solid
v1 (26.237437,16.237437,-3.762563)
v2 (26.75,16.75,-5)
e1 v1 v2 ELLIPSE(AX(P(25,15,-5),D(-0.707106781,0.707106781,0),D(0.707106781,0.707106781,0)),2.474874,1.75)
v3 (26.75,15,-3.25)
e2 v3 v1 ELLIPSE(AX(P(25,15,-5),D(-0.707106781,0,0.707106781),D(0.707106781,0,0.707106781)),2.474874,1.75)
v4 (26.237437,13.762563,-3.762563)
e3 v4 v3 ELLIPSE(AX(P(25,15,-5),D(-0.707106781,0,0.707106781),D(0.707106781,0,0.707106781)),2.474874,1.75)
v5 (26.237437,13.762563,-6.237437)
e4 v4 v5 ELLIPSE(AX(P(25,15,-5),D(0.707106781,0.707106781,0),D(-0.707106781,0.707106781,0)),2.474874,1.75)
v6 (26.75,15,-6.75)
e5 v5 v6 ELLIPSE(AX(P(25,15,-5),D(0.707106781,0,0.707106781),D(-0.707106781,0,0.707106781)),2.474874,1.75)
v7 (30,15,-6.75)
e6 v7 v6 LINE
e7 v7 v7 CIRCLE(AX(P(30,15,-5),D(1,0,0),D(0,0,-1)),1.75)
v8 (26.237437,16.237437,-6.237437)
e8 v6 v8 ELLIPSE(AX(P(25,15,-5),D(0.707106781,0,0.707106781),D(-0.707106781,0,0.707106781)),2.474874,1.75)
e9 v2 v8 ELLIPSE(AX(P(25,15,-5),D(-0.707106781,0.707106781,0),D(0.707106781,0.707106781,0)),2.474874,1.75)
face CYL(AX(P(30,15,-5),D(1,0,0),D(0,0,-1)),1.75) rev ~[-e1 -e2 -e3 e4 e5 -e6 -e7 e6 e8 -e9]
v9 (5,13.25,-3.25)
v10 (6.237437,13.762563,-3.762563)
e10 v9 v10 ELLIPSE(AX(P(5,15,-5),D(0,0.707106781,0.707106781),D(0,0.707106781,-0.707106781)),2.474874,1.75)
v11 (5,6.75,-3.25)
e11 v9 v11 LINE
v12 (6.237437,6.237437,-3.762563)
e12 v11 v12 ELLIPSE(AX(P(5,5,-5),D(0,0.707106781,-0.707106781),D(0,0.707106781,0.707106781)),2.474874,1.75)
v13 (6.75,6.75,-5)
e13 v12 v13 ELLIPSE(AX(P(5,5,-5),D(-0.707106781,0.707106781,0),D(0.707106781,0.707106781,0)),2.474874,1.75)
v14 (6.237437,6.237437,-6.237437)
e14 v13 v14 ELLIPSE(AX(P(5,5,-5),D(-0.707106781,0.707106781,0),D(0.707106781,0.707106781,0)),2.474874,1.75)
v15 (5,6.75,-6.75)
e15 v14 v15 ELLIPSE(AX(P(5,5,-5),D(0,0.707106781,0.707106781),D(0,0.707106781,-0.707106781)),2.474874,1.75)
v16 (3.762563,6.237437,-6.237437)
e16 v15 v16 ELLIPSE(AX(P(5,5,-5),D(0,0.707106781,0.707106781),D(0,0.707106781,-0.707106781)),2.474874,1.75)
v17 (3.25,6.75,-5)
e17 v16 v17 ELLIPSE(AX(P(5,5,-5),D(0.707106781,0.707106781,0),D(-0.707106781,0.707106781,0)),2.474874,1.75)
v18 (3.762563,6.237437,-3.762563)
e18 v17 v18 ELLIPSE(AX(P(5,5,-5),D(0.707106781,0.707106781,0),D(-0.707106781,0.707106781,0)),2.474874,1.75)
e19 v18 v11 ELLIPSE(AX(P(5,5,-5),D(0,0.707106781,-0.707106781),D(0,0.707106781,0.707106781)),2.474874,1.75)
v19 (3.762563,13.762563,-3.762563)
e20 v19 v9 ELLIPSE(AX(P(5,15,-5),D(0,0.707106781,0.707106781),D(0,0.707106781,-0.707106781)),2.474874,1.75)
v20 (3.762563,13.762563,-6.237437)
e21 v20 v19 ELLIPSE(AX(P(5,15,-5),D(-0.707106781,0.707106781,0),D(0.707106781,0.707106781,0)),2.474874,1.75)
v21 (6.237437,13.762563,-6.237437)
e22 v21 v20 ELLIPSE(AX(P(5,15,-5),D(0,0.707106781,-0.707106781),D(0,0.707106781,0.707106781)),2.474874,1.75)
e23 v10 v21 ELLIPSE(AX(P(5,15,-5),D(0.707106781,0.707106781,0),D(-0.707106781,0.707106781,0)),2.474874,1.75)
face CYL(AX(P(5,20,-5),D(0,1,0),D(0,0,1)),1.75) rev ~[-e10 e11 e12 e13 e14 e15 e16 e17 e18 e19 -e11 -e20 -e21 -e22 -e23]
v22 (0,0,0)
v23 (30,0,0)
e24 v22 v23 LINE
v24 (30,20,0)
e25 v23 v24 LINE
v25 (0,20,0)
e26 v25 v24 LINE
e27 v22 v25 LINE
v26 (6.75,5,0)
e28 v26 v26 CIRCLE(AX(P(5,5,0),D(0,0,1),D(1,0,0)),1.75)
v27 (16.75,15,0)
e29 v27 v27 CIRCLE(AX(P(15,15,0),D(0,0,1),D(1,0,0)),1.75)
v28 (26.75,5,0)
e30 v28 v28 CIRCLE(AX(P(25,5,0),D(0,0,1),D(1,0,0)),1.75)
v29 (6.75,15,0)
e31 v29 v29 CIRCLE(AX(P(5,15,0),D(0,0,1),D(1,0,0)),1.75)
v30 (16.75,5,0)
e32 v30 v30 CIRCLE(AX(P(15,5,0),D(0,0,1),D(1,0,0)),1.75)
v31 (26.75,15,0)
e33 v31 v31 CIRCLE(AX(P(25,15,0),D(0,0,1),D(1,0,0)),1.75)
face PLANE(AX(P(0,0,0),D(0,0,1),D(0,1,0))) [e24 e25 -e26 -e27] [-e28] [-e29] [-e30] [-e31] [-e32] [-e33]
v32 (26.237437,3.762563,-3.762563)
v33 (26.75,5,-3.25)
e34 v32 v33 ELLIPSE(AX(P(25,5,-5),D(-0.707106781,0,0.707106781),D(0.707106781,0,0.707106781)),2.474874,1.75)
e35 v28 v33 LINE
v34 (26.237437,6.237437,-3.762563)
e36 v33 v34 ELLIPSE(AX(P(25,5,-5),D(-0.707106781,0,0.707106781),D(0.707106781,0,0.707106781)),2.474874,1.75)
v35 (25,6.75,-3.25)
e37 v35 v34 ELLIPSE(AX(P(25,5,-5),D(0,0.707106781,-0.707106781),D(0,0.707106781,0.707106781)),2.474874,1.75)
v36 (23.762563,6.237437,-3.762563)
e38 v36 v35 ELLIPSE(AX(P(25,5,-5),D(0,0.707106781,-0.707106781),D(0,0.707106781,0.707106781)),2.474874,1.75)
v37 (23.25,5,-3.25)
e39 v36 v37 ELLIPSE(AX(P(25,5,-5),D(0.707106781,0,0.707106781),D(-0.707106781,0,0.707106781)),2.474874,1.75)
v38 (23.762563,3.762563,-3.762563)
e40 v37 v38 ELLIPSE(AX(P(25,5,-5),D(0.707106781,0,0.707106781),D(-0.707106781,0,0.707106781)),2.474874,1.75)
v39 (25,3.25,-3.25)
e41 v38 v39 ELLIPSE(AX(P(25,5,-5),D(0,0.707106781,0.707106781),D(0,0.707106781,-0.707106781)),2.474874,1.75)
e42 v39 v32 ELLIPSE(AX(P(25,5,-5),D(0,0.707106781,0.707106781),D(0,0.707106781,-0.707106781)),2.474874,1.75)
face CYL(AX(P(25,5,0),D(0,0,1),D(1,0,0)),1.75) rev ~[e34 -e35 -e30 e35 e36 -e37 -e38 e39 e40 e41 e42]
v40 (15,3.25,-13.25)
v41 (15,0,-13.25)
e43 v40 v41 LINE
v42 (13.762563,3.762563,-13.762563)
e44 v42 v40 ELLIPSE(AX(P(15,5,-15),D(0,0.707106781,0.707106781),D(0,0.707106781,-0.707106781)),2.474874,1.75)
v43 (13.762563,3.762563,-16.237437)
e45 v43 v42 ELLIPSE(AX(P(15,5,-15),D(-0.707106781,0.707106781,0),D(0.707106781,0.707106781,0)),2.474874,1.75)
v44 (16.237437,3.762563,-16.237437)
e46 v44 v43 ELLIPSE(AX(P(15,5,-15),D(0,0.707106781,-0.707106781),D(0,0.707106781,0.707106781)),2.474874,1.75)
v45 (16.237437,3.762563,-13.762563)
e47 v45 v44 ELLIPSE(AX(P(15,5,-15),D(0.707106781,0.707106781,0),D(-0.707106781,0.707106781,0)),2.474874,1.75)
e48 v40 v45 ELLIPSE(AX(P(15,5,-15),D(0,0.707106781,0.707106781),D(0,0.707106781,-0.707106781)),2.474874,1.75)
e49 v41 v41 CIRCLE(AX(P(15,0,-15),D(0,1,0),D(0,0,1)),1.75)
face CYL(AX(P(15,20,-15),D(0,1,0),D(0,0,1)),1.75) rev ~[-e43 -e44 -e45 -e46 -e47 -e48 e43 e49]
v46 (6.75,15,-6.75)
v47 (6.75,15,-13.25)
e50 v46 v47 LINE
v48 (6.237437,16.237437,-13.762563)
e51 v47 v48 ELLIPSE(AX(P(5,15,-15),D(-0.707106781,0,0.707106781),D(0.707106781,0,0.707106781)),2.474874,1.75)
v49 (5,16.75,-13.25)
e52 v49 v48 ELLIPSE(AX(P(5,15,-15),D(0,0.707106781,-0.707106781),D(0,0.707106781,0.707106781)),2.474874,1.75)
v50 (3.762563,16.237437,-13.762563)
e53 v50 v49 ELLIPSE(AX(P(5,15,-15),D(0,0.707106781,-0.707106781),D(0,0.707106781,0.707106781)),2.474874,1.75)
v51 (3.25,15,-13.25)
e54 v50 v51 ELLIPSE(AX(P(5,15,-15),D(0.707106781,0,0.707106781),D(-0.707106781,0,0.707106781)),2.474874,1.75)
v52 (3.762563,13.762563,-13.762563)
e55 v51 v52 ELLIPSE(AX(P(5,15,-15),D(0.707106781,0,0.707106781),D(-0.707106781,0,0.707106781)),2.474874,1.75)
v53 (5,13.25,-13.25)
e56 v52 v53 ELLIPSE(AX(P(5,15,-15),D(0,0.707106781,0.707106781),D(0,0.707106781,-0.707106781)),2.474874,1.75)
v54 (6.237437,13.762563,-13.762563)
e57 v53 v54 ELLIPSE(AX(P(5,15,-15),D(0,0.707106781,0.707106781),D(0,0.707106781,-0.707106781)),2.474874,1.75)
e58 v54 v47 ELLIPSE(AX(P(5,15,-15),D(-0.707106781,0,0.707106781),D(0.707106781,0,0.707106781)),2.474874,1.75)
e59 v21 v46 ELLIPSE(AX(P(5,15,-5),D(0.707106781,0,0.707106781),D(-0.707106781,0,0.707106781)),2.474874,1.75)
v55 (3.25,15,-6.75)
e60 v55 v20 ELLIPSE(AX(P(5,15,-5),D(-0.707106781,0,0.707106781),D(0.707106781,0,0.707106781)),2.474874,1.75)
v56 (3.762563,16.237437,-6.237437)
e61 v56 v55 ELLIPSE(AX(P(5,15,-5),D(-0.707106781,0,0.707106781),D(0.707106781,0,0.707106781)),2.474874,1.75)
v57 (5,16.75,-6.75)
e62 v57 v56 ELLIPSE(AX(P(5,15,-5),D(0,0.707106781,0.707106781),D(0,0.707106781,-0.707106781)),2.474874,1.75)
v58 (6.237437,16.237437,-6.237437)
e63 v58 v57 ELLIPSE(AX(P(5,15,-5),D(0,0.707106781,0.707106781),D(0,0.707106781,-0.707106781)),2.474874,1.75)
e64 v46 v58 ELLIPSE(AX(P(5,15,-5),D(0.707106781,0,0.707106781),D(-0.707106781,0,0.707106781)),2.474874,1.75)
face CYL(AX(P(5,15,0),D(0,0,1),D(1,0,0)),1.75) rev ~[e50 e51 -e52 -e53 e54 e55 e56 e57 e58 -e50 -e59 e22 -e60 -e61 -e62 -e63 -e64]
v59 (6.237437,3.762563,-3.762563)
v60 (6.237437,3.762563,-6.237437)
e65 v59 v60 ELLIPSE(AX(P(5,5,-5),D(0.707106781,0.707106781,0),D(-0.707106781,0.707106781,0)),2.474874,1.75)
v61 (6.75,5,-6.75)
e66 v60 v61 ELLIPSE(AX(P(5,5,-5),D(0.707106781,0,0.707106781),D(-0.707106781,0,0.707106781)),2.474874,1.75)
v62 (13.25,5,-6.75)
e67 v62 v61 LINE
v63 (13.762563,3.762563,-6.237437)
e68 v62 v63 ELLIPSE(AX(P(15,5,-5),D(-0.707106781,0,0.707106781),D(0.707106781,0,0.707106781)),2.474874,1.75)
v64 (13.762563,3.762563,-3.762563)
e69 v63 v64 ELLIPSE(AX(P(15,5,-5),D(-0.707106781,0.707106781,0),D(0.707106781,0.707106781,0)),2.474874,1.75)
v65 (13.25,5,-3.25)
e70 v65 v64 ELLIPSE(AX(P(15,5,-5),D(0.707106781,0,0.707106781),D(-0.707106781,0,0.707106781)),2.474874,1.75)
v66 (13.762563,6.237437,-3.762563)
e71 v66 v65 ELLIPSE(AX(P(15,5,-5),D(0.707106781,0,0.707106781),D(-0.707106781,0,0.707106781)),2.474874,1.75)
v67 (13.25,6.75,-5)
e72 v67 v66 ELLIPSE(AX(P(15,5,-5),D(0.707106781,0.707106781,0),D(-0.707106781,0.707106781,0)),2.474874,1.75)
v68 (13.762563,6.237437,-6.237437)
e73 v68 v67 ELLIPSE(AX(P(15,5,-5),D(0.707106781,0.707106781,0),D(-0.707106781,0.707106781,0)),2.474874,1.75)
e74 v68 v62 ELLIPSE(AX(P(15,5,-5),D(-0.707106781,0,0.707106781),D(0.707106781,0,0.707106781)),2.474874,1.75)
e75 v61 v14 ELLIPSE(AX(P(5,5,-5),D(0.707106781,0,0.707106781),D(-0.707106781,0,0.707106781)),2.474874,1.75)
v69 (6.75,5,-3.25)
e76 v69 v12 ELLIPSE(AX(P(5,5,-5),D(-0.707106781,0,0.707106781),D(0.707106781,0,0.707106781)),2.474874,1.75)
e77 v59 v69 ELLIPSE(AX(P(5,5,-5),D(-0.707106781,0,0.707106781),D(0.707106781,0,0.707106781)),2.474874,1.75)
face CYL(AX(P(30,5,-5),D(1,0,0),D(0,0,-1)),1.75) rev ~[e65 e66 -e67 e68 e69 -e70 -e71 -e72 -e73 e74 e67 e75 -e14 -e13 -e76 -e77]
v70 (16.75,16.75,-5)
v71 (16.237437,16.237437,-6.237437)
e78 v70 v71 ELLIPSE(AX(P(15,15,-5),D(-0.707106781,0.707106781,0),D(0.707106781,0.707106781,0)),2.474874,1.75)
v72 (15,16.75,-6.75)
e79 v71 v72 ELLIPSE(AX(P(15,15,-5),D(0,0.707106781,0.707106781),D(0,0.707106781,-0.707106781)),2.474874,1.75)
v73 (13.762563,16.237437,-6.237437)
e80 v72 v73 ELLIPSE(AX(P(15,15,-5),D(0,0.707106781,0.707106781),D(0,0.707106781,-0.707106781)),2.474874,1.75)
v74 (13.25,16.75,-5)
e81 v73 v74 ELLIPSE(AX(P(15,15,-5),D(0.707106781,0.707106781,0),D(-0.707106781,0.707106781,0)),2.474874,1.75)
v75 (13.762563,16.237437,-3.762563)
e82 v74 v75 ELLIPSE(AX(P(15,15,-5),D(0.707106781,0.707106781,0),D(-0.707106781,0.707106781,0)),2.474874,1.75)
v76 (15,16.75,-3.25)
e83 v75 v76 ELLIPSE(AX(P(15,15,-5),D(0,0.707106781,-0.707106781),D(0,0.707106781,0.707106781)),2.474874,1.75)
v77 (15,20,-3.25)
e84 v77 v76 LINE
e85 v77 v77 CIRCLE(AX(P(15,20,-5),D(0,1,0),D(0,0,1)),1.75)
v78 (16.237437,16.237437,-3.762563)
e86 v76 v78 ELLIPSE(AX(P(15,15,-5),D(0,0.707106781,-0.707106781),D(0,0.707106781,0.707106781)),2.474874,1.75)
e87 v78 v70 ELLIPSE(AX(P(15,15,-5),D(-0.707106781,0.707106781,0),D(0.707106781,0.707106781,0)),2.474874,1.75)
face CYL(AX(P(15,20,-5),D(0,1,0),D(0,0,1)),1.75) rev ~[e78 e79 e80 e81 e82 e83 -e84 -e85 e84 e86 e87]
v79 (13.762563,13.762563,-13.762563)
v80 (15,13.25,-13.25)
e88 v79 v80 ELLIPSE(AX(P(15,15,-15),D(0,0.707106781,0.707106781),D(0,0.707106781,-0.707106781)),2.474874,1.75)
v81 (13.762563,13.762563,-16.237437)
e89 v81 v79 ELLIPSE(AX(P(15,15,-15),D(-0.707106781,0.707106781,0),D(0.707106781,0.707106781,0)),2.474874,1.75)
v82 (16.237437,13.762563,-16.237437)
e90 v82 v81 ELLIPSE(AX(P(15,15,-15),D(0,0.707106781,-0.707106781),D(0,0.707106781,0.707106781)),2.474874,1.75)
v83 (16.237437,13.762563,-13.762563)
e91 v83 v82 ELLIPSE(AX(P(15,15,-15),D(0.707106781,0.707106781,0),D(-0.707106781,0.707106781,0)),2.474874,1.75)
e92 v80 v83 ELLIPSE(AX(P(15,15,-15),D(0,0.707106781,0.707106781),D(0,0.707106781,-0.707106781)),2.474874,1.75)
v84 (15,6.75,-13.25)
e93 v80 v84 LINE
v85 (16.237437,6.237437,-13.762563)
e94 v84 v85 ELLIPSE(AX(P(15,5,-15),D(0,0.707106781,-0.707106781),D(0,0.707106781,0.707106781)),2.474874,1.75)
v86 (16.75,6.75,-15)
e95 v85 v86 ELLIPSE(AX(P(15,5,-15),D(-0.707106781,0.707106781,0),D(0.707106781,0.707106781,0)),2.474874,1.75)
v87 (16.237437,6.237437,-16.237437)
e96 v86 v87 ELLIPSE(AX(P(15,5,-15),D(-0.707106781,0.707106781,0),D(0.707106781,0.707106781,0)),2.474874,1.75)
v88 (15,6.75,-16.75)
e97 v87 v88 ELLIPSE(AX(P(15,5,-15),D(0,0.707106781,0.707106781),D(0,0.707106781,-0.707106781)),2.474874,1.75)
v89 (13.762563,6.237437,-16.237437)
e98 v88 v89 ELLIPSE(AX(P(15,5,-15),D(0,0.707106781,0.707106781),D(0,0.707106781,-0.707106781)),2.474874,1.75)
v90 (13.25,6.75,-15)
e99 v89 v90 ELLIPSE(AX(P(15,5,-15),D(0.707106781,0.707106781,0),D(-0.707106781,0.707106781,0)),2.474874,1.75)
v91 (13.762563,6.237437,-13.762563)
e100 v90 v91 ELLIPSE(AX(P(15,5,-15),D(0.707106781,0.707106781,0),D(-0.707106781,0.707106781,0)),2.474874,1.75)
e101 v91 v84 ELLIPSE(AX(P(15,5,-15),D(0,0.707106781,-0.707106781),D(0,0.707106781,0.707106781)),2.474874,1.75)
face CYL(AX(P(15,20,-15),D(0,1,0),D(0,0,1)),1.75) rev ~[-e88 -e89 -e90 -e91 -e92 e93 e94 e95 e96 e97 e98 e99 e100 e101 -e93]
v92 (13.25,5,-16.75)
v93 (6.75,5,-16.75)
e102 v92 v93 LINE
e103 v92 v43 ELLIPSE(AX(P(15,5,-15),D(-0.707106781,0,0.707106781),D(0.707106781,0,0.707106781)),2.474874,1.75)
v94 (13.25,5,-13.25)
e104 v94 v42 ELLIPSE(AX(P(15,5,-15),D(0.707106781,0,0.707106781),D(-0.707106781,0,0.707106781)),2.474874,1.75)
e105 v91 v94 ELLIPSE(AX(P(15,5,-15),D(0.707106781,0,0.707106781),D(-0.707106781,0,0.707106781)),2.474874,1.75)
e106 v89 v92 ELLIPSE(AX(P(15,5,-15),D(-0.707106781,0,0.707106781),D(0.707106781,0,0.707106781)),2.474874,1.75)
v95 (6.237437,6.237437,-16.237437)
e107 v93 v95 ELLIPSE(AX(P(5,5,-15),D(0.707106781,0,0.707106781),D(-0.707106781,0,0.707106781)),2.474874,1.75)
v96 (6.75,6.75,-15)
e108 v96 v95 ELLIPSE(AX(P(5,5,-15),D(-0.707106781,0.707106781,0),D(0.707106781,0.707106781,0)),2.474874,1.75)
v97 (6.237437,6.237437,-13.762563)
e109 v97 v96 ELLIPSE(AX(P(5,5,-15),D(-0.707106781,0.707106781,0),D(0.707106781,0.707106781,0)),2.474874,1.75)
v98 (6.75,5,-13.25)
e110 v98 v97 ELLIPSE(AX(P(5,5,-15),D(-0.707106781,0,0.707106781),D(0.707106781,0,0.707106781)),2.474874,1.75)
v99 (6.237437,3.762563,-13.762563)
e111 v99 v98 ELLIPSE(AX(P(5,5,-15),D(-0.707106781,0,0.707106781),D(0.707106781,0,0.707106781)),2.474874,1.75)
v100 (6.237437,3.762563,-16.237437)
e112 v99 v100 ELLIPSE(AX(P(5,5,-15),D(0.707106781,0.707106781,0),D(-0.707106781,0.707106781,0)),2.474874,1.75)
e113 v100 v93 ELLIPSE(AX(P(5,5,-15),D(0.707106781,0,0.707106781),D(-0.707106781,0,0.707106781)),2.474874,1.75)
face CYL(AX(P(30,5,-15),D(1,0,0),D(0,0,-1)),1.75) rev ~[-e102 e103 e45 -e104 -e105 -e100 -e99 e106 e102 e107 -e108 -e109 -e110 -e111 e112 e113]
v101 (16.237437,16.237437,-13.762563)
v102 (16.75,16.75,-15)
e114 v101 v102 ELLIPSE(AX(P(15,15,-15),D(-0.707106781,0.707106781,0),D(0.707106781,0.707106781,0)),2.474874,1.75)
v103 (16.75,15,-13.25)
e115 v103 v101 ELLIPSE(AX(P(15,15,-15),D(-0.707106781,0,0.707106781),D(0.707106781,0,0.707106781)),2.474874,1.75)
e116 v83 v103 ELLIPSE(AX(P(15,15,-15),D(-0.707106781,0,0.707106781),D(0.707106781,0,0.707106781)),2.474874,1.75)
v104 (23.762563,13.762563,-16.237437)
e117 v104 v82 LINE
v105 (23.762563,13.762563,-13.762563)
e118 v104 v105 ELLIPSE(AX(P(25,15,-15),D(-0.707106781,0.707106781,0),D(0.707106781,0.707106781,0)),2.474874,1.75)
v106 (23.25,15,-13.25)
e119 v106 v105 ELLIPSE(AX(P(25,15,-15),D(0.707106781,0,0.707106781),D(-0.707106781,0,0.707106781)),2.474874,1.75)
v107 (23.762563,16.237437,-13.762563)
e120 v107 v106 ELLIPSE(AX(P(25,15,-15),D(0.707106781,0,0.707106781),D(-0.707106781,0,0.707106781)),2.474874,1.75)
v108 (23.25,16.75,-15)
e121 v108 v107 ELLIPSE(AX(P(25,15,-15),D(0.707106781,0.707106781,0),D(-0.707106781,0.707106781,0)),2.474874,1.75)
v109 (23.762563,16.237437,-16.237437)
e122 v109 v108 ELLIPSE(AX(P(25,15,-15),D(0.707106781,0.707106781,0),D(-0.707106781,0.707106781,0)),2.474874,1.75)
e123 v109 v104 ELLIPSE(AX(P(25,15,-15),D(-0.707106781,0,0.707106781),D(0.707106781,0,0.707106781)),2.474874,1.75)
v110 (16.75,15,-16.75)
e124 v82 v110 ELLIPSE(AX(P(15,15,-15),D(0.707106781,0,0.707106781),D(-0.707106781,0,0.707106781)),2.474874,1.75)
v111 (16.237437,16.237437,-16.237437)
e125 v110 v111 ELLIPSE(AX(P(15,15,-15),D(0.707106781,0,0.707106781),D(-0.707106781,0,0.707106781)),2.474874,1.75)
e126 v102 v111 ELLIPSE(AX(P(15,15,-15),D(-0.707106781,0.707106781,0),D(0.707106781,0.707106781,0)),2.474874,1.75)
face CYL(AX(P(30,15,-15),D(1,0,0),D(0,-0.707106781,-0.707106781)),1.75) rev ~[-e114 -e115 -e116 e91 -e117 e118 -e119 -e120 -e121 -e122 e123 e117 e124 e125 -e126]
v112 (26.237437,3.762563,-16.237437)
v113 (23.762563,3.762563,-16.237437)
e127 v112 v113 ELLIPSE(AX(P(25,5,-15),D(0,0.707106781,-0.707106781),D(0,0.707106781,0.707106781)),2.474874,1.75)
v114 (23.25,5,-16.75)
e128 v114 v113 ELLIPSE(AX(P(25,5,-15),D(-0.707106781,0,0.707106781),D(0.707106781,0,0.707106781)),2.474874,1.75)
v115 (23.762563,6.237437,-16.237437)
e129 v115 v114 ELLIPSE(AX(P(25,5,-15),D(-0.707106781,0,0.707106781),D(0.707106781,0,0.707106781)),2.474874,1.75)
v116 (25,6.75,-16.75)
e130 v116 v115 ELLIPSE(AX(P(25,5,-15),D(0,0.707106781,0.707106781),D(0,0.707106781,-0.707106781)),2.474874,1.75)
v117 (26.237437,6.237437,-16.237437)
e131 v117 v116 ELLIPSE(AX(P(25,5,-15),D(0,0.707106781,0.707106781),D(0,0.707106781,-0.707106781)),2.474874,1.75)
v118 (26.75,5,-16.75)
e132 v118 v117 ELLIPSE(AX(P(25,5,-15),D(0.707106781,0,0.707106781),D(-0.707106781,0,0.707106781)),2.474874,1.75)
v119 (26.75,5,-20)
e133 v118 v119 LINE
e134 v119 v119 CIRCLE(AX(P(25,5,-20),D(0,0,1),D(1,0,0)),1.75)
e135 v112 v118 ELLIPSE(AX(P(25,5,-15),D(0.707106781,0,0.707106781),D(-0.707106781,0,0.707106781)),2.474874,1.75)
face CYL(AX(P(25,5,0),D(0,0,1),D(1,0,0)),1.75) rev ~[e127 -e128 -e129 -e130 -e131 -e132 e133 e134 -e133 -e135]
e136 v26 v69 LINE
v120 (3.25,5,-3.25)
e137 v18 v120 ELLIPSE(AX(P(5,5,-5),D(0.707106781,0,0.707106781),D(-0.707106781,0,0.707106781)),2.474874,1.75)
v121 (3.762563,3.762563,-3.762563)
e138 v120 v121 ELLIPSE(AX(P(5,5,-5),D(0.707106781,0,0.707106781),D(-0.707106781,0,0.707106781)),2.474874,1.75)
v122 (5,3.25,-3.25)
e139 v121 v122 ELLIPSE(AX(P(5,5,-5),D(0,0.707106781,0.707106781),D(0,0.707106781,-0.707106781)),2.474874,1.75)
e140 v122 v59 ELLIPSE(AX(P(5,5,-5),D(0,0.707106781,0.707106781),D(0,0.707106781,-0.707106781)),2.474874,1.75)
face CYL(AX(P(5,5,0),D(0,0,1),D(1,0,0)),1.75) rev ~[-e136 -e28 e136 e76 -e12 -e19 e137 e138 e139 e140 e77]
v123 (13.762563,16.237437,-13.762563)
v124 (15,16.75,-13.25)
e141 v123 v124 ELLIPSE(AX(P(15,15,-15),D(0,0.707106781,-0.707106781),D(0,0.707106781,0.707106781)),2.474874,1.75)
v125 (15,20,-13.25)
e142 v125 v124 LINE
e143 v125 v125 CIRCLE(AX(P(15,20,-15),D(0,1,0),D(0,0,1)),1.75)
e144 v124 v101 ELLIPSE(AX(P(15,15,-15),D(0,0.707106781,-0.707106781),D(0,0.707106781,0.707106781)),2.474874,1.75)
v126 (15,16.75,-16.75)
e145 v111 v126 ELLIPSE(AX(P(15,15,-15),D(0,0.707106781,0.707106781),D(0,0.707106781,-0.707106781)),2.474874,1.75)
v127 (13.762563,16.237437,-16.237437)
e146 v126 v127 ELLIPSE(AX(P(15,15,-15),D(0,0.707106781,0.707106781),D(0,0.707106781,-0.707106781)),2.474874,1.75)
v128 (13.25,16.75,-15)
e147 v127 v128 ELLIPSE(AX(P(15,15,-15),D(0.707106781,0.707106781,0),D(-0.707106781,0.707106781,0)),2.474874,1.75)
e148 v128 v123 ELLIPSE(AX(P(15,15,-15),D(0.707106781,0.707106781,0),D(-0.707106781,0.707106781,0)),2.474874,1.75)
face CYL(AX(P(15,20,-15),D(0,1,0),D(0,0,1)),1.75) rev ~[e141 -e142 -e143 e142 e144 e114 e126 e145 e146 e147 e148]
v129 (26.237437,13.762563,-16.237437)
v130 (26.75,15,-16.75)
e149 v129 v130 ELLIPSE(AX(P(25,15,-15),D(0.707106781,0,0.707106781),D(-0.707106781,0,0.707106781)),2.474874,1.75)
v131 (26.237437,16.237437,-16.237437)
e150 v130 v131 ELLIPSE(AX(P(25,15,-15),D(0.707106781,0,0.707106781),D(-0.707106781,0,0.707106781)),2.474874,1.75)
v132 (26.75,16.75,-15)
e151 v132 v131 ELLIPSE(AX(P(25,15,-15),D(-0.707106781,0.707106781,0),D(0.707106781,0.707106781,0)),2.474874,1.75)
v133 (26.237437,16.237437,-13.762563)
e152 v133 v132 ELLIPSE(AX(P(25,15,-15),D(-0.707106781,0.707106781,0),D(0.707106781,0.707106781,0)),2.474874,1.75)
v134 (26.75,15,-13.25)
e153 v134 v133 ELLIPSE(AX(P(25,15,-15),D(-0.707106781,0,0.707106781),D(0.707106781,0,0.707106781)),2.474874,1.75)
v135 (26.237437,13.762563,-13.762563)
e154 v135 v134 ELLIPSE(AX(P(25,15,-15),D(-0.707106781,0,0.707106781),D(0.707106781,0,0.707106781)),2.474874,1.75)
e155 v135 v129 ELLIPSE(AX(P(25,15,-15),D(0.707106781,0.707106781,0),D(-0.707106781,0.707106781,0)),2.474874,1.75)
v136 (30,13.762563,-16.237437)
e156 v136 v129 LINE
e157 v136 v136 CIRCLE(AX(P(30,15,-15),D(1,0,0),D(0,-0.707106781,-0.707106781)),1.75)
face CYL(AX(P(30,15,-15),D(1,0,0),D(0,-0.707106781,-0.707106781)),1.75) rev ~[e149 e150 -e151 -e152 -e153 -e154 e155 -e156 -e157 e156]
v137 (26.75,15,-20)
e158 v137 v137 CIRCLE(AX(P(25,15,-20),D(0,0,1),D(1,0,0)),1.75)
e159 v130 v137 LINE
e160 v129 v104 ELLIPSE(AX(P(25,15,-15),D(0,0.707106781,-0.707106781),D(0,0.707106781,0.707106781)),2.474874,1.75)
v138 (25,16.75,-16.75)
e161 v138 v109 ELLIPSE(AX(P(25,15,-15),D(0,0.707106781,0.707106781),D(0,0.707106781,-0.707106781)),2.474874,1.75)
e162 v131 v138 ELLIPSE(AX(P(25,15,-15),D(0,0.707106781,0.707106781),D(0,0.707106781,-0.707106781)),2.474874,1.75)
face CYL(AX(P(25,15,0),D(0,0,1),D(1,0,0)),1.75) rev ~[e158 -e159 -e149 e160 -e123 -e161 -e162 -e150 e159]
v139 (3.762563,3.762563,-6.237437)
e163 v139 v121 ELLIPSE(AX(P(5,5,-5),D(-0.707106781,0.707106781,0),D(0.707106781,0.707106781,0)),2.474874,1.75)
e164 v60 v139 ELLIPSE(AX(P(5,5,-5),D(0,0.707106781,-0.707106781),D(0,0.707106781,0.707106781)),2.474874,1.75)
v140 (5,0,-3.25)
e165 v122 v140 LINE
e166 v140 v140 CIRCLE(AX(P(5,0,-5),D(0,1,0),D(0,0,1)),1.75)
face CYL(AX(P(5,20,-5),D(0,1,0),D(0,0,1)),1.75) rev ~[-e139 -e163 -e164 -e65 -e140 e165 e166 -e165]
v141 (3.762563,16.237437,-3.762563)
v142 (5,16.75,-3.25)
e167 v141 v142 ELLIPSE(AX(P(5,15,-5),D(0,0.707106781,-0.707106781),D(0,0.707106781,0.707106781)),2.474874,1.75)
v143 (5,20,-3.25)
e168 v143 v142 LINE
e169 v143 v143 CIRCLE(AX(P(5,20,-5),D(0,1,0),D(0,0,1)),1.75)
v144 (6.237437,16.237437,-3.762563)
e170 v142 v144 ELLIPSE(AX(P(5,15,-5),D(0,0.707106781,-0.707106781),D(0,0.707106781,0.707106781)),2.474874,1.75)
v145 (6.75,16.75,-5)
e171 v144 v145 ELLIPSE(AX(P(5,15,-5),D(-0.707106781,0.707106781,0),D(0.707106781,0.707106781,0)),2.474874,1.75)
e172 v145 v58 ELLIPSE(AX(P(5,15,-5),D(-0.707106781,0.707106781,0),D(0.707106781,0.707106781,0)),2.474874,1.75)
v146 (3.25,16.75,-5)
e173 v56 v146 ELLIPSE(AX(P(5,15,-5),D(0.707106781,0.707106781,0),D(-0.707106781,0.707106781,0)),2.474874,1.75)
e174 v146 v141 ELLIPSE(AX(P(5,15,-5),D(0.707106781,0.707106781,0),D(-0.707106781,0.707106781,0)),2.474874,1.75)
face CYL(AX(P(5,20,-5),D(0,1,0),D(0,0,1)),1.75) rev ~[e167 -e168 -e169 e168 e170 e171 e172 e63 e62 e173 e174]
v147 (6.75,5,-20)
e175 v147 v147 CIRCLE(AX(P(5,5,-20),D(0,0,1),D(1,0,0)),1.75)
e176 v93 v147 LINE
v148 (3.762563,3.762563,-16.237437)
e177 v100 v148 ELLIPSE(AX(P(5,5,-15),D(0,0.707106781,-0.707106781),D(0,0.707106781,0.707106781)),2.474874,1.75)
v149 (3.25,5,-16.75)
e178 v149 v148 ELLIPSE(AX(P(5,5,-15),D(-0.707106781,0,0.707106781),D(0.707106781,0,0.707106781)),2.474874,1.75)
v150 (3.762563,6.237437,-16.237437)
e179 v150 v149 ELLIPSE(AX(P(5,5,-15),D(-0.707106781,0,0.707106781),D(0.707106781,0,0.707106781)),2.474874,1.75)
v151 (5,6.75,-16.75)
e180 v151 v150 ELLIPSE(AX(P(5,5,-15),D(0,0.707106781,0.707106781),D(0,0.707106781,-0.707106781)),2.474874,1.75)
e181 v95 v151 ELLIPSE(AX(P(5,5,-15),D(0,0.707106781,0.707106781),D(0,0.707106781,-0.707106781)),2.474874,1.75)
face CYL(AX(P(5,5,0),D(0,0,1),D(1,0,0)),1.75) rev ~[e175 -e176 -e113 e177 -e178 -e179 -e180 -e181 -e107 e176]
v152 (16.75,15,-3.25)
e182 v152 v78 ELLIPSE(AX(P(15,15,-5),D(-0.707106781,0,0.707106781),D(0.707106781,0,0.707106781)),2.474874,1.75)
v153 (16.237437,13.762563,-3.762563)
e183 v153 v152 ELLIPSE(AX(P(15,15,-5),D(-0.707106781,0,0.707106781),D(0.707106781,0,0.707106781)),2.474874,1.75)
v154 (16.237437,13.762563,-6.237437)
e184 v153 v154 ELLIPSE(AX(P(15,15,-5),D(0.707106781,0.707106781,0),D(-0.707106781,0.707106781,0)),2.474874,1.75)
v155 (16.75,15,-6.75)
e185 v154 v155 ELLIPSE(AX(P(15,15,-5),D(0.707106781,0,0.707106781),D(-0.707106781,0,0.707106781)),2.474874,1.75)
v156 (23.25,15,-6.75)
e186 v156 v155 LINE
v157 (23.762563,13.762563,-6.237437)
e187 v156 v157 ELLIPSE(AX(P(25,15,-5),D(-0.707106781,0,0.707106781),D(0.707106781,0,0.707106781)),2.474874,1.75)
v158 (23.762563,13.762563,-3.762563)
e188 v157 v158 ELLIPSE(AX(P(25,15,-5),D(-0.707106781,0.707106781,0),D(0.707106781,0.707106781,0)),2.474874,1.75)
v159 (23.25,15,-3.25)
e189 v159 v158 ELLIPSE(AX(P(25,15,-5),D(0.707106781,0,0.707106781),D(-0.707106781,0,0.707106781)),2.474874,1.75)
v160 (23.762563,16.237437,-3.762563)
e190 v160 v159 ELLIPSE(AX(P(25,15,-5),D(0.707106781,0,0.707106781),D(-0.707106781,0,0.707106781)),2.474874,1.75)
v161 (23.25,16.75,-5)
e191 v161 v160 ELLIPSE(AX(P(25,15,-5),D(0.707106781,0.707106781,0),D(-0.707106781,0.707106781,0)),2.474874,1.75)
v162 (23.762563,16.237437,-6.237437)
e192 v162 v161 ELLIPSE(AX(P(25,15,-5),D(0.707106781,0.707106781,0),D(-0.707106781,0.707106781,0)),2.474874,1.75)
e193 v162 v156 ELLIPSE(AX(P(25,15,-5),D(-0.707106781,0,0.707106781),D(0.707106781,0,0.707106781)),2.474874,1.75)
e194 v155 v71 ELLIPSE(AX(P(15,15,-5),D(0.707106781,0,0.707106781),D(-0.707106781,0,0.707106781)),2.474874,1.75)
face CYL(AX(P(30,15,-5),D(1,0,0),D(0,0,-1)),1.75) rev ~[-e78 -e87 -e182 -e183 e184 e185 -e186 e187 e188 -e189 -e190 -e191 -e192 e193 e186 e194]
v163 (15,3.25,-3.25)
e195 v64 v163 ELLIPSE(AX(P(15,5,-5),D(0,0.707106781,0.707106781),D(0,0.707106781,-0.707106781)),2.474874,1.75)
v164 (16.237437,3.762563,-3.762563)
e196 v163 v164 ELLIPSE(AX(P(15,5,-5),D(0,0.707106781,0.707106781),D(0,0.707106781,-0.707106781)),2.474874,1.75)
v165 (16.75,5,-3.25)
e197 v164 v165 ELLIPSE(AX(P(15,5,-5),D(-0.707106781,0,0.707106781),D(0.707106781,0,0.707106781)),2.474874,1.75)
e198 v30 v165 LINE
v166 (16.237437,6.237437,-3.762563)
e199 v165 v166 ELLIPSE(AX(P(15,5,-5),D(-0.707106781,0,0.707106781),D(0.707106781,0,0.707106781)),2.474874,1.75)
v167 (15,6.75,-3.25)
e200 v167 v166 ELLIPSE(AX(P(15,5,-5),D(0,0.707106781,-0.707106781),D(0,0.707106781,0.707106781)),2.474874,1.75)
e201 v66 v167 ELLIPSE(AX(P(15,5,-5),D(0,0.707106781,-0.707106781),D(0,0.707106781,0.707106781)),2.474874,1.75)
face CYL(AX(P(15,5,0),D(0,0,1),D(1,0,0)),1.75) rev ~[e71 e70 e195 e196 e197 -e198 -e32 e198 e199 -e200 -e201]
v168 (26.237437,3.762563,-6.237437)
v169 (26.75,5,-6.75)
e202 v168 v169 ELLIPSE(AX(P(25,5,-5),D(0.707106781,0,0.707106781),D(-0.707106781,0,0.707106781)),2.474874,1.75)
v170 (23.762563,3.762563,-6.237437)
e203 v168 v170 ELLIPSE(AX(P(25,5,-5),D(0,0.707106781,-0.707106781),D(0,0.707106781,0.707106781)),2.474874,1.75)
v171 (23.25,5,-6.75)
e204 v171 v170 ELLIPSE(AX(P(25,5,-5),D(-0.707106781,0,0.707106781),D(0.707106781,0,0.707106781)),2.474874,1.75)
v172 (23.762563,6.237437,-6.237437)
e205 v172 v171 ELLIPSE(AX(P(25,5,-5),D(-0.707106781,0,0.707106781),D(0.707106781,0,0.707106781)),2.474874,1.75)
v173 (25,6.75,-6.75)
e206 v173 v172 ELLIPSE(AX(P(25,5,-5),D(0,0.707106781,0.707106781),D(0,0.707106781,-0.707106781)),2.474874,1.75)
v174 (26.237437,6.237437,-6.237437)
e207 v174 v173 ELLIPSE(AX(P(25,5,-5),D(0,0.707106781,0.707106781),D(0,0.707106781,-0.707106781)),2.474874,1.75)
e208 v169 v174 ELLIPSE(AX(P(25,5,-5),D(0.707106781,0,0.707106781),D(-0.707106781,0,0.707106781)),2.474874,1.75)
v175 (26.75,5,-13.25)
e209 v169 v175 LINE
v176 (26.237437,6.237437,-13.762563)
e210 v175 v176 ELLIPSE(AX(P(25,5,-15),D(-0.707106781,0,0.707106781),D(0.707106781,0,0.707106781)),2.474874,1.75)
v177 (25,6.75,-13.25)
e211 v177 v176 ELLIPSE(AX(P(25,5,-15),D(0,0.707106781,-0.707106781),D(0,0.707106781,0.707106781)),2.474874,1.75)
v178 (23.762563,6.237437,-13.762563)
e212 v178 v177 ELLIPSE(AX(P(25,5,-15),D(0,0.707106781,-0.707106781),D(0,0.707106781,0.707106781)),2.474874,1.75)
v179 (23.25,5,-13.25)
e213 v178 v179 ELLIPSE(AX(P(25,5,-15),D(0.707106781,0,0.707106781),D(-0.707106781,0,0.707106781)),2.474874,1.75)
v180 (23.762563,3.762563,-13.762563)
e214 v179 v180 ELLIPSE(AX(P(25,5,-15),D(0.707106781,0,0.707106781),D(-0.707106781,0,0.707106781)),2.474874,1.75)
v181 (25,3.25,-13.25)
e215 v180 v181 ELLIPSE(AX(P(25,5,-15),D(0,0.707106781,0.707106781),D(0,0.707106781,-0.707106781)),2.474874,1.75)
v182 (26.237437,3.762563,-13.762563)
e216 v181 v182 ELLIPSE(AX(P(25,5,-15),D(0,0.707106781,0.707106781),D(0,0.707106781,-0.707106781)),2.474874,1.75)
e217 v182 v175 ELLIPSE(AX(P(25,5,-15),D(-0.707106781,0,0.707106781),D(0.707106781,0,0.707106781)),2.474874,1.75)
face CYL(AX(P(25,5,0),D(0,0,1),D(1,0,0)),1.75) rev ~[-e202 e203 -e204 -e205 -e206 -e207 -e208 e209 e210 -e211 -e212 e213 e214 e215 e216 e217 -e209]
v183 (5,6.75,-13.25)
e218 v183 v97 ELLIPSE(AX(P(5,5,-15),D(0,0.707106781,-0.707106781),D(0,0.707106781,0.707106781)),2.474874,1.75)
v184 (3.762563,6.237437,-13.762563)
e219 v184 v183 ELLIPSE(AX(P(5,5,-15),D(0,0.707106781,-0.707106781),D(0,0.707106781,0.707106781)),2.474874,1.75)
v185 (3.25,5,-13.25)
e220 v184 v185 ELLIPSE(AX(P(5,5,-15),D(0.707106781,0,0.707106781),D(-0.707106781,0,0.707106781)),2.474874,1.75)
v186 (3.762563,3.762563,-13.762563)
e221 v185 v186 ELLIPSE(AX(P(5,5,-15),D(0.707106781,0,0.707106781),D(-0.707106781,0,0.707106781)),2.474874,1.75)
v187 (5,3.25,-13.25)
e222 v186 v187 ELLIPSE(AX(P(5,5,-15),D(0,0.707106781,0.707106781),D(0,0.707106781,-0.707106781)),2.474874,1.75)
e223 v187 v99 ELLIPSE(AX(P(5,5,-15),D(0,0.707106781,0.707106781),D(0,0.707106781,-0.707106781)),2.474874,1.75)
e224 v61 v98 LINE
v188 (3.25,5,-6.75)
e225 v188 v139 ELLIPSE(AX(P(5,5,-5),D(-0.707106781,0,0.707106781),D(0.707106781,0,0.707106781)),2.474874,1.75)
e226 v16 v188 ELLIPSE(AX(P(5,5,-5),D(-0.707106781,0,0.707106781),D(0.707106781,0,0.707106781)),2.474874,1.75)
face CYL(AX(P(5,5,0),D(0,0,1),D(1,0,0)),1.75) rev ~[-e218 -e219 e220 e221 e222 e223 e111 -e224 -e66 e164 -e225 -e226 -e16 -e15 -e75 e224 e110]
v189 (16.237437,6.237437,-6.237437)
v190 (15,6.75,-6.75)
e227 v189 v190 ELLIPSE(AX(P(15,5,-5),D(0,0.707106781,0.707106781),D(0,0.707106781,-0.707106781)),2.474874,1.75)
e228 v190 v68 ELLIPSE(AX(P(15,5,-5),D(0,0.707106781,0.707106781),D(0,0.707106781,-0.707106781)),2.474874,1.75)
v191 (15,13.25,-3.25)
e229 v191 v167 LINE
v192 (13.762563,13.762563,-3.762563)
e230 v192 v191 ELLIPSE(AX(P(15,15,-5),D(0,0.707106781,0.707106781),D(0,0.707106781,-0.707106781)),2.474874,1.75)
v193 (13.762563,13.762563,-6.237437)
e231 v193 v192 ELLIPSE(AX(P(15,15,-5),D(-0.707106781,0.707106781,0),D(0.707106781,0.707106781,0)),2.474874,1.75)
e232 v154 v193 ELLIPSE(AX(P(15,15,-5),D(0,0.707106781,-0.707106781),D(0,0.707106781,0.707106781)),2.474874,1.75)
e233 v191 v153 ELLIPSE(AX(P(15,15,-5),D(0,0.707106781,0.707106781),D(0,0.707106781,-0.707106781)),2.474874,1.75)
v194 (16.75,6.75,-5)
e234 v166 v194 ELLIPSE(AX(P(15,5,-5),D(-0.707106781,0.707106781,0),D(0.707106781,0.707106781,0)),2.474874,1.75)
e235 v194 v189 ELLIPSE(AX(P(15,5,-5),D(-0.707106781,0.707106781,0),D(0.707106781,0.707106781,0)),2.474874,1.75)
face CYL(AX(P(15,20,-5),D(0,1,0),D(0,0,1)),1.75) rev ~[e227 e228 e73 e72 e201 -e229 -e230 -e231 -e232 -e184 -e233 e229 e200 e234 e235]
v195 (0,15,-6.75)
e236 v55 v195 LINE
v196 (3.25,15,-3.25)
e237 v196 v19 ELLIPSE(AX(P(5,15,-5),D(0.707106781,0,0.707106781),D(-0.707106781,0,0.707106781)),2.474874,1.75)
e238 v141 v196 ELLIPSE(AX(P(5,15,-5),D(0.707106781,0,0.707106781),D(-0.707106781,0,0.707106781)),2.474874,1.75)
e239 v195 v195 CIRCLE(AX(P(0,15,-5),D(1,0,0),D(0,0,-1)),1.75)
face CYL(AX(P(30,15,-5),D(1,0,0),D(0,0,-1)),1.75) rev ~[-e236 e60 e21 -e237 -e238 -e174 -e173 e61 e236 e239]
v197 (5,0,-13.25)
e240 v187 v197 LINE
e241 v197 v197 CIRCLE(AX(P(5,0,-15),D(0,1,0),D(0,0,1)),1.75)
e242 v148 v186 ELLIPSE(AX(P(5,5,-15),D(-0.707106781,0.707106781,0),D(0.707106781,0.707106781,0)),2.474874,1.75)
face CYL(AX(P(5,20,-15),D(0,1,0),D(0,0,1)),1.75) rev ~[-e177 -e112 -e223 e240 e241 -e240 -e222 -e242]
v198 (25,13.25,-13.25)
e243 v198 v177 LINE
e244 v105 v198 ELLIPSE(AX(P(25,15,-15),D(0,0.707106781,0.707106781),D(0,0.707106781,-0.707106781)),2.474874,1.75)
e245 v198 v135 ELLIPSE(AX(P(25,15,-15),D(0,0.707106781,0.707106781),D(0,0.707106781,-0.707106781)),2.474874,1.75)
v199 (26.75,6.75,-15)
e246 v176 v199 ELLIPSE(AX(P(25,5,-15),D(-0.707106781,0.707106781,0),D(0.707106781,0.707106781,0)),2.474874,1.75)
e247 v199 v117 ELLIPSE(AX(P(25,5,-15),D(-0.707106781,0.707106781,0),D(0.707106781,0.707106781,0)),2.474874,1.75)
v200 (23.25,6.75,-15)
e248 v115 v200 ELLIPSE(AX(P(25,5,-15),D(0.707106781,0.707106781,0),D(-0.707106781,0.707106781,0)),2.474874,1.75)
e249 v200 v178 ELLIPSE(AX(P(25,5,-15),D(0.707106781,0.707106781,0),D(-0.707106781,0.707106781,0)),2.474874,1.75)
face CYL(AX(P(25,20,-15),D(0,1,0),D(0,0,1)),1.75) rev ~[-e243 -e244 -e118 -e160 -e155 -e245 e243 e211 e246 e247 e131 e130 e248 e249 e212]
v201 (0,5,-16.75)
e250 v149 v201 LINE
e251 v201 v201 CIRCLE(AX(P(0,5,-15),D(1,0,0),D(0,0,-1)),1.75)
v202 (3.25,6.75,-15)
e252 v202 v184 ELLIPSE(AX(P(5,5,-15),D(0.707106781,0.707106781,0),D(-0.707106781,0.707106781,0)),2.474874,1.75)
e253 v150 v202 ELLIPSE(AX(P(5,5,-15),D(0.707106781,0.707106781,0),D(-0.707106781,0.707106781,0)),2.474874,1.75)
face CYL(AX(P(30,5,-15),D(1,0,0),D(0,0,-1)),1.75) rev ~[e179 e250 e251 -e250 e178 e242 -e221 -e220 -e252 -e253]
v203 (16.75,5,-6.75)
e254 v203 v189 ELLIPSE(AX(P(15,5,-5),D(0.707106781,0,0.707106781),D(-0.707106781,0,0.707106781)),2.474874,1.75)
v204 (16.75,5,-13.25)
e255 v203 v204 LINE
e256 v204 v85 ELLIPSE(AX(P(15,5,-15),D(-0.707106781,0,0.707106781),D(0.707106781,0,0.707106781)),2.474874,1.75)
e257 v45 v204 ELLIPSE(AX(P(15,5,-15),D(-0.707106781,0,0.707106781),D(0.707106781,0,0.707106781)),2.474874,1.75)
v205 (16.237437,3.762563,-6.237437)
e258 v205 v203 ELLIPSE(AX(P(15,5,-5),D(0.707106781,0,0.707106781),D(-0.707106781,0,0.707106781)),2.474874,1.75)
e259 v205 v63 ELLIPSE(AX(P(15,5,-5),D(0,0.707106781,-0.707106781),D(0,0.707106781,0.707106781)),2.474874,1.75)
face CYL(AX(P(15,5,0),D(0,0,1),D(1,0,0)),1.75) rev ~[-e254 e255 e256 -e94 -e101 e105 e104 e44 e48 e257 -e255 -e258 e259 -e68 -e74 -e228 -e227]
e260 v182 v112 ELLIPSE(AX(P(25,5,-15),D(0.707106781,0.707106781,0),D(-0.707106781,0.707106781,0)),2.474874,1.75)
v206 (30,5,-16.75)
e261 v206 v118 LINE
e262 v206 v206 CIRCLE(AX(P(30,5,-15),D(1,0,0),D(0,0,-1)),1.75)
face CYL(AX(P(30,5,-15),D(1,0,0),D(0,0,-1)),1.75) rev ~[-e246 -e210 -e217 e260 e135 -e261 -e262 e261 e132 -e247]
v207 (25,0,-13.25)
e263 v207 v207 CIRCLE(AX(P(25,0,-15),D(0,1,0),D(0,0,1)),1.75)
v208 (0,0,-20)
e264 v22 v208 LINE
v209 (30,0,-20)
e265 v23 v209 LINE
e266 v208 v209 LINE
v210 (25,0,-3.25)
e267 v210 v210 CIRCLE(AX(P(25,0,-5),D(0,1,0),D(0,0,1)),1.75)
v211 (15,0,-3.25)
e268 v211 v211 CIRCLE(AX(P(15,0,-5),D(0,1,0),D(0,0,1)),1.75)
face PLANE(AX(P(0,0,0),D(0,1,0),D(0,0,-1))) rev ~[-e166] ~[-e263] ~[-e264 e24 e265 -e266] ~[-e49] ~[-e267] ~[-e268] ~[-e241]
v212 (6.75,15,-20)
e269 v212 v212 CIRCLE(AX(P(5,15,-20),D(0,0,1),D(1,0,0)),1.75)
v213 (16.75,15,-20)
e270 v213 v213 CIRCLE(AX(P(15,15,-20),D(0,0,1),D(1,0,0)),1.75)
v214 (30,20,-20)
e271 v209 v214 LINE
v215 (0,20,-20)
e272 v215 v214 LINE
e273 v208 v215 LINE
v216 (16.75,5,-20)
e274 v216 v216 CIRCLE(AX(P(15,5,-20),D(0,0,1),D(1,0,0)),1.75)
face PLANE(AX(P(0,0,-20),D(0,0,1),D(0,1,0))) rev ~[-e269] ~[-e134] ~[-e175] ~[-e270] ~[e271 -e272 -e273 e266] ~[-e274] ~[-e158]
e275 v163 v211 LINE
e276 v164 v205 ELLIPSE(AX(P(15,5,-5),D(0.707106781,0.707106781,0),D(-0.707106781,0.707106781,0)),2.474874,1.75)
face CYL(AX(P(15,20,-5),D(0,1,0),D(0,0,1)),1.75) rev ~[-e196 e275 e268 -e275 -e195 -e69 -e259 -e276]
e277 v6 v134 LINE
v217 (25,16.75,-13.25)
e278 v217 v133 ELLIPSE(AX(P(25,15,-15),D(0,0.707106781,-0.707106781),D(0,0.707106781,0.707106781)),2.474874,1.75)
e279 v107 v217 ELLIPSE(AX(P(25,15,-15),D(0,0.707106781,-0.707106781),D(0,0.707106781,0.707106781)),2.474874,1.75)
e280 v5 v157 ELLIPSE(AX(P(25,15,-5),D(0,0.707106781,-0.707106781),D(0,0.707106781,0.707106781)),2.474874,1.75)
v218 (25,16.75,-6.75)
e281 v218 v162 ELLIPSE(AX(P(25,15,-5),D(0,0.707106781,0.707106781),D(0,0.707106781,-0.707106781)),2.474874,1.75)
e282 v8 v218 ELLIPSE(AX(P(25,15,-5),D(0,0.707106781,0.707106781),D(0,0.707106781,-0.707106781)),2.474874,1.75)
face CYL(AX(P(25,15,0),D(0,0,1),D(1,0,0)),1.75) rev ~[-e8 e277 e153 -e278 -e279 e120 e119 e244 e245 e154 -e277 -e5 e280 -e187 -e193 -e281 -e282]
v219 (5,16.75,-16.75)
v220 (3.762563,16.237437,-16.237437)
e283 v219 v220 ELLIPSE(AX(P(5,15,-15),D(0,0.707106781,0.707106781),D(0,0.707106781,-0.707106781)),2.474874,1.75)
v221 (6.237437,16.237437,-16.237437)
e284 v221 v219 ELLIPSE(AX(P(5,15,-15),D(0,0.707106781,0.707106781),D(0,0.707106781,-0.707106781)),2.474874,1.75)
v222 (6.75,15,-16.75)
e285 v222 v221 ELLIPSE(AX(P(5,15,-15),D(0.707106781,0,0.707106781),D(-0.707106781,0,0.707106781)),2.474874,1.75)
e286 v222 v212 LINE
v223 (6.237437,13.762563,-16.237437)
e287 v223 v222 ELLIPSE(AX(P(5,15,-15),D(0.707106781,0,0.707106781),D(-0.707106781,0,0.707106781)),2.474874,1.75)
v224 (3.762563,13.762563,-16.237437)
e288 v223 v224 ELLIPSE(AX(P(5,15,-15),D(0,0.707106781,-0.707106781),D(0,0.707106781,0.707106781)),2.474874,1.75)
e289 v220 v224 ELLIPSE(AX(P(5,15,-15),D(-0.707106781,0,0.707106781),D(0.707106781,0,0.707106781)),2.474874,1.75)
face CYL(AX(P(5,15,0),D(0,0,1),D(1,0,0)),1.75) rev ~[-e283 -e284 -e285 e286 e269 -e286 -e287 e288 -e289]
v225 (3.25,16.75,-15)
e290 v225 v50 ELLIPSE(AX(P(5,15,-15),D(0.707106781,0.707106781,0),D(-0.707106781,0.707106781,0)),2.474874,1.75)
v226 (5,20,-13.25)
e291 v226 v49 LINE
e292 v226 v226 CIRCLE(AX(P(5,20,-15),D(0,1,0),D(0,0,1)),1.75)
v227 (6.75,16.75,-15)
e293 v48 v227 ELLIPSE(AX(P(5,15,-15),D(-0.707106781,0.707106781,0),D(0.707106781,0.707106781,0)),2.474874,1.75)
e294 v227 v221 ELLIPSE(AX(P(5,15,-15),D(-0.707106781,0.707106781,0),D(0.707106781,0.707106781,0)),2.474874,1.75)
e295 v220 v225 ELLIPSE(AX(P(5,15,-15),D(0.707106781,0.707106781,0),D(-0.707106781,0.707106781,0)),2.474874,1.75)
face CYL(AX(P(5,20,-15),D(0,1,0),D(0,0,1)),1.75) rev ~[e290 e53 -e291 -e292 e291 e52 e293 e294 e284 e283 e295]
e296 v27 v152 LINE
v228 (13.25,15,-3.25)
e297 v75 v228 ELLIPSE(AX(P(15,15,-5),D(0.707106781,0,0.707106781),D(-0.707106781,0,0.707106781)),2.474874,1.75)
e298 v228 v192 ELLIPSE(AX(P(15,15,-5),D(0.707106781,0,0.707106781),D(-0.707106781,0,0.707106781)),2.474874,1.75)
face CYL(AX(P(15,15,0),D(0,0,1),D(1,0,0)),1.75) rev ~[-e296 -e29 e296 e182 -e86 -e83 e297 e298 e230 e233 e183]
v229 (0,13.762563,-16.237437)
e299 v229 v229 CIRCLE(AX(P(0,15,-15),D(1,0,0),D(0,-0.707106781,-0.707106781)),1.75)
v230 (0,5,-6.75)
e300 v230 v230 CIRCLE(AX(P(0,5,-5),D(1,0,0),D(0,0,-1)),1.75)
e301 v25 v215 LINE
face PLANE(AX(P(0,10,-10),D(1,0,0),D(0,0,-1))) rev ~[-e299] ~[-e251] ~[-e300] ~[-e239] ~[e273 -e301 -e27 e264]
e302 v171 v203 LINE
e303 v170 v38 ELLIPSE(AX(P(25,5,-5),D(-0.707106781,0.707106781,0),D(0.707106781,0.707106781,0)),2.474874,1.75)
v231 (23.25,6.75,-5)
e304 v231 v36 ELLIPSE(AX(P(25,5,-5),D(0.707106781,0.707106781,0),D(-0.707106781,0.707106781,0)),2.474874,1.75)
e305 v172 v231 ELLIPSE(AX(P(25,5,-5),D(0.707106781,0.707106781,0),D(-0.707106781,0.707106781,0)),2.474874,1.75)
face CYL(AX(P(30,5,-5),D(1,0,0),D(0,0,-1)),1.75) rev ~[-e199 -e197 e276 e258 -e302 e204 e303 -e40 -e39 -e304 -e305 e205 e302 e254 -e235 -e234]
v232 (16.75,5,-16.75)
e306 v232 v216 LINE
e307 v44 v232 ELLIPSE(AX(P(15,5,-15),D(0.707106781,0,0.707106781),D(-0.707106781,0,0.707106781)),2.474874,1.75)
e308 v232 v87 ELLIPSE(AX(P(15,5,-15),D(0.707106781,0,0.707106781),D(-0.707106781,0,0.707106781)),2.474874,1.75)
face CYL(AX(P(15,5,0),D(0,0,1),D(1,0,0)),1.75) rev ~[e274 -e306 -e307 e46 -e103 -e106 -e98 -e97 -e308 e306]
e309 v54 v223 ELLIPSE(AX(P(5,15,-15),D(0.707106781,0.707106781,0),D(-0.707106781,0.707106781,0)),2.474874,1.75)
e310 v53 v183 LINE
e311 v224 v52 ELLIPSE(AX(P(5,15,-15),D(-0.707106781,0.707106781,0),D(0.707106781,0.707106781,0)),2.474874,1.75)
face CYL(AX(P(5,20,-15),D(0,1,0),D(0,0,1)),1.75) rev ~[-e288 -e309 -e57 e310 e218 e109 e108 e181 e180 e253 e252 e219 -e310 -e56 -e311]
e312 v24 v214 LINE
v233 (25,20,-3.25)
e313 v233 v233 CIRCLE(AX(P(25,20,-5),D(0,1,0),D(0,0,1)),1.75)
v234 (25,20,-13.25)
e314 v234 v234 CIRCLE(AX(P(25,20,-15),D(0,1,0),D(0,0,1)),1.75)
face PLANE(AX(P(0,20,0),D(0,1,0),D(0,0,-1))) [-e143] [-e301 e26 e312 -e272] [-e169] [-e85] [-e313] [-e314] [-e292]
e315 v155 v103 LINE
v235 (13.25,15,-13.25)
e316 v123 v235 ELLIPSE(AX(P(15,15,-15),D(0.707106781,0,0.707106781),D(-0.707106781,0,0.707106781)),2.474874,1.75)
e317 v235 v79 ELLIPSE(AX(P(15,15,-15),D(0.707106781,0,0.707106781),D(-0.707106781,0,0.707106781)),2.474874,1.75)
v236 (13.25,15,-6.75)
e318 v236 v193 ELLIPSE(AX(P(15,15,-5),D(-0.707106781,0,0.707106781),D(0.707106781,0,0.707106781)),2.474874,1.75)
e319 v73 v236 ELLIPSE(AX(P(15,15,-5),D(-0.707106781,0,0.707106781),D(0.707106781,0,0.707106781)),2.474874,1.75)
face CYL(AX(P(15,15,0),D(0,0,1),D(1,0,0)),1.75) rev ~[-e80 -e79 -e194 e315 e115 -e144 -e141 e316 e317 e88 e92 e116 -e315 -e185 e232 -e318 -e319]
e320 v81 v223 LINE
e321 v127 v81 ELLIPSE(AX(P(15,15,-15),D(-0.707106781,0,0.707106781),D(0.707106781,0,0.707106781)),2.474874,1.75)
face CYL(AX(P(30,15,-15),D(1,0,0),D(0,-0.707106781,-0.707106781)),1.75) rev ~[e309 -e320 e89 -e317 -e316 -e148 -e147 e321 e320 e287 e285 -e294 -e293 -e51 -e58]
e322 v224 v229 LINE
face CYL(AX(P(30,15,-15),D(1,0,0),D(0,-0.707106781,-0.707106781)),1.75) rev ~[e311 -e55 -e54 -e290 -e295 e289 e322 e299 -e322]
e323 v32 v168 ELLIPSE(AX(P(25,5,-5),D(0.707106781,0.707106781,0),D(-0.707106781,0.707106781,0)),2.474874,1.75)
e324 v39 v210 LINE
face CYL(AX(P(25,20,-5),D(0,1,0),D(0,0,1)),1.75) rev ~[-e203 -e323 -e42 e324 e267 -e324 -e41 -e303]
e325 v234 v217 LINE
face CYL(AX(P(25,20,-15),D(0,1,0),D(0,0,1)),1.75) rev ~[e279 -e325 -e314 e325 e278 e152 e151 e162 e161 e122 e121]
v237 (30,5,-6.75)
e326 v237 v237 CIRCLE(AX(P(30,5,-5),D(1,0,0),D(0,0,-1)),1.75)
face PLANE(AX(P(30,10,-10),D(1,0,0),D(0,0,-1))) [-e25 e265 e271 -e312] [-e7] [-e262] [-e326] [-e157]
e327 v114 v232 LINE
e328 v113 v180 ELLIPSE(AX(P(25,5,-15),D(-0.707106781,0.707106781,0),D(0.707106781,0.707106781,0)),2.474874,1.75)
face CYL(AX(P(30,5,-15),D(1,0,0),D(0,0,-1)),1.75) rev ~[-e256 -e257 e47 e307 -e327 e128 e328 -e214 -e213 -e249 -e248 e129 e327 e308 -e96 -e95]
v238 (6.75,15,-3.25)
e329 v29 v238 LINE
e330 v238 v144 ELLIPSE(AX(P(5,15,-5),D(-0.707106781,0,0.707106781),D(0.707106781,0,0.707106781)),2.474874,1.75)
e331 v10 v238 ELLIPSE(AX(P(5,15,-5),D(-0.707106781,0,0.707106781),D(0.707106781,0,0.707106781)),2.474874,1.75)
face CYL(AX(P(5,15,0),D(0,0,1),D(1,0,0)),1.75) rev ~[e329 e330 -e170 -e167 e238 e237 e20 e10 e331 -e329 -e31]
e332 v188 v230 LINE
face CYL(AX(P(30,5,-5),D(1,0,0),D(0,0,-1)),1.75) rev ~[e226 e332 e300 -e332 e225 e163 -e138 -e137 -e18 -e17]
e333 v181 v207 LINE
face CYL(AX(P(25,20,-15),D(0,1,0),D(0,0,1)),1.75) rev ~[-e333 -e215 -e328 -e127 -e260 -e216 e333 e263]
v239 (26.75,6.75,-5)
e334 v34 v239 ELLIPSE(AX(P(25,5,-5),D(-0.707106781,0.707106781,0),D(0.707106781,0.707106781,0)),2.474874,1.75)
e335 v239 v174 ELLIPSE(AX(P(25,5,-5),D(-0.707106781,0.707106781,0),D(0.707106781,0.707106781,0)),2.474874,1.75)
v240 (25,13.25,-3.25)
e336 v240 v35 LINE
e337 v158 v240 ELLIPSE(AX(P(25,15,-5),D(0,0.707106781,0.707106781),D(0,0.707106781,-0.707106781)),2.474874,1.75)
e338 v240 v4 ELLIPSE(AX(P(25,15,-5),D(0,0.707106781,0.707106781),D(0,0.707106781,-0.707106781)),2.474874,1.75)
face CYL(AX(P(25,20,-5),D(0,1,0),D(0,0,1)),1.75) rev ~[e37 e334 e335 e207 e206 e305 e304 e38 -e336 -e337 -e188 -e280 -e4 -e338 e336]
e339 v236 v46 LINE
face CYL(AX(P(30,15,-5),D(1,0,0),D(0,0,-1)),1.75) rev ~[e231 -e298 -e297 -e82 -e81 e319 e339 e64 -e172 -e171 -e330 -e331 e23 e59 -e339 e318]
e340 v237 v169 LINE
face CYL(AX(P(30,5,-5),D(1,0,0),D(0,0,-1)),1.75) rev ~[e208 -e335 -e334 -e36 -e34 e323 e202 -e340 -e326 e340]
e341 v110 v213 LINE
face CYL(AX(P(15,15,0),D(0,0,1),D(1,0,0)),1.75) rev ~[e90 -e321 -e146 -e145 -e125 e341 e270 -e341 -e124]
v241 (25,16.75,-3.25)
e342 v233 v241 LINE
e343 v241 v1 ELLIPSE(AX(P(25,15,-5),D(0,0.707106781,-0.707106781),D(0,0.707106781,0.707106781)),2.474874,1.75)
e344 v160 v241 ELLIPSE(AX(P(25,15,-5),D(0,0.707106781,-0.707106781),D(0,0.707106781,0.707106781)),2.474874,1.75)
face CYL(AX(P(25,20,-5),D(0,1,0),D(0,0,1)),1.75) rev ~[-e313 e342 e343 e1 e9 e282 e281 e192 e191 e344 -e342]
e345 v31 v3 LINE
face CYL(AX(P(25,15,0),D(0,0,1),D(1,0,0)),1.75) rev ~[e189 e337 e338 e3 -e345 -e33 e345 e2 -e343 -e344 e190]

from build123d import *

# Parameters (mm, degrees)
ESQUISSE1_W             = 20
ESQUISSE1_H             = 20
BOSS_EXTRU_1_DEPTH      = 30
ESQUISSE2_R             = 1.75
ENL_V_MAT_EXTRU_1_DEPTH = 42.231056256
ESQUISSE3_R             = 1.75
ENL_V_MAT_EXTRU_2_DEPTH = 40
ESQUISSE4_R             = 1.75
ENL_V_MAT_EXTRU_3_DEPTH = 40


with BuildPart() as part:
    # Esquisse1 → Boss.-Extru.1 (new body)
    with BuildSketch(Plane(origin=(0, 0, 0), x_dir=(0, 0, -1), z_dir=(1, 0, 0))):
        with Locations((10, 10)):
            Rectangle(ESQUISSE1_W, ESQUISSE1_H)
    extrude(amount=BOSS_EXTRU_1_DEPTH)

    # Esquisse2 → Enlèv. mat.-Extru.1 (cut, through all)
    with BuildSketch(Plane(origin=(0, 20, 0), x_dir=(1, 0, 0), z_dir=(0, 1, 0))):
        with Locations(Location((5, 15, 0), (0, 0, 270))):
            Circle(ESQUISSE2_R)
        with Locations(Location((15, 15, 0), (0, 0, 270))):
            Circle(ESQUISSE2_R)
        with Locations(Location((25, 15, 0), (0, 0, 270))):
            Circle(ESQUISSE2_R)
        with Locations((35, 15)):
            Circle(ESQUISSE2_R)
        with Locations(Location((5, 5, 0), (0, 0, 270))):
            Circle(ESQUISSE2_R)
        with Locations(Location((15, 5, 0), (0, 0, 270))):
            Circle(ESQUISSE2_R)
        with Locations(Location((25, 5, 0), (0, 0, 270))):
            Circle(ESQUISSE2_R)
        with Locations((35, 5)):
            Circle(ESQUISSE2_R)
        with Locations((5, -5)):
            Circle(ESQUISSE2_R)
        with Locations((15, -5)):
            Circle(ESQUISSE2_R)
        with Locations((25, -5)):
            Circle(ESQUISSE2_R)
        with Locations((35, -5)):
            Circle(ESQUISSE2_R)
        with Locations((5, -15)):
            Circle(ESQUISSE2_R)
        with Locations((15, -15)):
            Circle(ESQUISSE2_R)
        with Locations((25, -15)):
            Circle(ESQUISSE2_R)
        with Locations((35, -15)):
            Circle(ESQUISSE2_R)
    extrude(amount=-ENL_V_MAT_EXTRU_1_DEPTH, mode=Mode.SUBTRACT)

    # Esquisse3 → Enlèv. mat.-Extru.2 (cut)
    with BuildSketch(Plane.XY):
        with Locations((5, 15)):
            Circle(ESQUISSE3_R)
        with Locations((15, 15)):
            Circle(ESQUISSE3_R)
        with Locations((25, 15)):
            Circle(ESQUISSE3_R)
        with Locations((35, 15)):
            Circle(ESQUISSE3_R)
        with Locations((5, 5)):
            Circle(ESQUISSE3_R)
        with Locations((15, 5)):
            Circle(ESQUISSE3_R)
        with Locations((25, 5)):
            Circle(ESQUISSE3_R)
        with Locations((35, 5)):
            Circle(ESQUISSE3_R)
    extrude(amount=-ENL_V_MAT_EXTRU_2_DEPTH, mode=Mode.SUBTRACT)

    # Esquisse4 → Enlèv. mat.-Extru.3 (cut)
    with BuildSketch(Plane(origin=(30, 0, 0), x_dir=(0, 0, -1), z_dir=(1, 0, 0))):
        with Locations((5, 15)):
            Circle(ESQUISSE4_R)
        with Locations(Location((15, 15, 0), (0, 0, 315))):
            Circle(ESQUISSE4_R)
        with Locations((25, 15)):
            Circle(ESQUISSE4_R)
        with Locations((35, 15)):
            Circle(ESQUISSE4_R)
        with Locations((5, 5)):
            Circle(ESQUISSE4_R)
        with Locations((15, 5)):
            Circle(ESQUISSE4_R)
    extrude(amount=-ENL_V_MAT_EXTRU_3_DEPTH, mode=Mode.SUBTRACT)


solid = part.part
